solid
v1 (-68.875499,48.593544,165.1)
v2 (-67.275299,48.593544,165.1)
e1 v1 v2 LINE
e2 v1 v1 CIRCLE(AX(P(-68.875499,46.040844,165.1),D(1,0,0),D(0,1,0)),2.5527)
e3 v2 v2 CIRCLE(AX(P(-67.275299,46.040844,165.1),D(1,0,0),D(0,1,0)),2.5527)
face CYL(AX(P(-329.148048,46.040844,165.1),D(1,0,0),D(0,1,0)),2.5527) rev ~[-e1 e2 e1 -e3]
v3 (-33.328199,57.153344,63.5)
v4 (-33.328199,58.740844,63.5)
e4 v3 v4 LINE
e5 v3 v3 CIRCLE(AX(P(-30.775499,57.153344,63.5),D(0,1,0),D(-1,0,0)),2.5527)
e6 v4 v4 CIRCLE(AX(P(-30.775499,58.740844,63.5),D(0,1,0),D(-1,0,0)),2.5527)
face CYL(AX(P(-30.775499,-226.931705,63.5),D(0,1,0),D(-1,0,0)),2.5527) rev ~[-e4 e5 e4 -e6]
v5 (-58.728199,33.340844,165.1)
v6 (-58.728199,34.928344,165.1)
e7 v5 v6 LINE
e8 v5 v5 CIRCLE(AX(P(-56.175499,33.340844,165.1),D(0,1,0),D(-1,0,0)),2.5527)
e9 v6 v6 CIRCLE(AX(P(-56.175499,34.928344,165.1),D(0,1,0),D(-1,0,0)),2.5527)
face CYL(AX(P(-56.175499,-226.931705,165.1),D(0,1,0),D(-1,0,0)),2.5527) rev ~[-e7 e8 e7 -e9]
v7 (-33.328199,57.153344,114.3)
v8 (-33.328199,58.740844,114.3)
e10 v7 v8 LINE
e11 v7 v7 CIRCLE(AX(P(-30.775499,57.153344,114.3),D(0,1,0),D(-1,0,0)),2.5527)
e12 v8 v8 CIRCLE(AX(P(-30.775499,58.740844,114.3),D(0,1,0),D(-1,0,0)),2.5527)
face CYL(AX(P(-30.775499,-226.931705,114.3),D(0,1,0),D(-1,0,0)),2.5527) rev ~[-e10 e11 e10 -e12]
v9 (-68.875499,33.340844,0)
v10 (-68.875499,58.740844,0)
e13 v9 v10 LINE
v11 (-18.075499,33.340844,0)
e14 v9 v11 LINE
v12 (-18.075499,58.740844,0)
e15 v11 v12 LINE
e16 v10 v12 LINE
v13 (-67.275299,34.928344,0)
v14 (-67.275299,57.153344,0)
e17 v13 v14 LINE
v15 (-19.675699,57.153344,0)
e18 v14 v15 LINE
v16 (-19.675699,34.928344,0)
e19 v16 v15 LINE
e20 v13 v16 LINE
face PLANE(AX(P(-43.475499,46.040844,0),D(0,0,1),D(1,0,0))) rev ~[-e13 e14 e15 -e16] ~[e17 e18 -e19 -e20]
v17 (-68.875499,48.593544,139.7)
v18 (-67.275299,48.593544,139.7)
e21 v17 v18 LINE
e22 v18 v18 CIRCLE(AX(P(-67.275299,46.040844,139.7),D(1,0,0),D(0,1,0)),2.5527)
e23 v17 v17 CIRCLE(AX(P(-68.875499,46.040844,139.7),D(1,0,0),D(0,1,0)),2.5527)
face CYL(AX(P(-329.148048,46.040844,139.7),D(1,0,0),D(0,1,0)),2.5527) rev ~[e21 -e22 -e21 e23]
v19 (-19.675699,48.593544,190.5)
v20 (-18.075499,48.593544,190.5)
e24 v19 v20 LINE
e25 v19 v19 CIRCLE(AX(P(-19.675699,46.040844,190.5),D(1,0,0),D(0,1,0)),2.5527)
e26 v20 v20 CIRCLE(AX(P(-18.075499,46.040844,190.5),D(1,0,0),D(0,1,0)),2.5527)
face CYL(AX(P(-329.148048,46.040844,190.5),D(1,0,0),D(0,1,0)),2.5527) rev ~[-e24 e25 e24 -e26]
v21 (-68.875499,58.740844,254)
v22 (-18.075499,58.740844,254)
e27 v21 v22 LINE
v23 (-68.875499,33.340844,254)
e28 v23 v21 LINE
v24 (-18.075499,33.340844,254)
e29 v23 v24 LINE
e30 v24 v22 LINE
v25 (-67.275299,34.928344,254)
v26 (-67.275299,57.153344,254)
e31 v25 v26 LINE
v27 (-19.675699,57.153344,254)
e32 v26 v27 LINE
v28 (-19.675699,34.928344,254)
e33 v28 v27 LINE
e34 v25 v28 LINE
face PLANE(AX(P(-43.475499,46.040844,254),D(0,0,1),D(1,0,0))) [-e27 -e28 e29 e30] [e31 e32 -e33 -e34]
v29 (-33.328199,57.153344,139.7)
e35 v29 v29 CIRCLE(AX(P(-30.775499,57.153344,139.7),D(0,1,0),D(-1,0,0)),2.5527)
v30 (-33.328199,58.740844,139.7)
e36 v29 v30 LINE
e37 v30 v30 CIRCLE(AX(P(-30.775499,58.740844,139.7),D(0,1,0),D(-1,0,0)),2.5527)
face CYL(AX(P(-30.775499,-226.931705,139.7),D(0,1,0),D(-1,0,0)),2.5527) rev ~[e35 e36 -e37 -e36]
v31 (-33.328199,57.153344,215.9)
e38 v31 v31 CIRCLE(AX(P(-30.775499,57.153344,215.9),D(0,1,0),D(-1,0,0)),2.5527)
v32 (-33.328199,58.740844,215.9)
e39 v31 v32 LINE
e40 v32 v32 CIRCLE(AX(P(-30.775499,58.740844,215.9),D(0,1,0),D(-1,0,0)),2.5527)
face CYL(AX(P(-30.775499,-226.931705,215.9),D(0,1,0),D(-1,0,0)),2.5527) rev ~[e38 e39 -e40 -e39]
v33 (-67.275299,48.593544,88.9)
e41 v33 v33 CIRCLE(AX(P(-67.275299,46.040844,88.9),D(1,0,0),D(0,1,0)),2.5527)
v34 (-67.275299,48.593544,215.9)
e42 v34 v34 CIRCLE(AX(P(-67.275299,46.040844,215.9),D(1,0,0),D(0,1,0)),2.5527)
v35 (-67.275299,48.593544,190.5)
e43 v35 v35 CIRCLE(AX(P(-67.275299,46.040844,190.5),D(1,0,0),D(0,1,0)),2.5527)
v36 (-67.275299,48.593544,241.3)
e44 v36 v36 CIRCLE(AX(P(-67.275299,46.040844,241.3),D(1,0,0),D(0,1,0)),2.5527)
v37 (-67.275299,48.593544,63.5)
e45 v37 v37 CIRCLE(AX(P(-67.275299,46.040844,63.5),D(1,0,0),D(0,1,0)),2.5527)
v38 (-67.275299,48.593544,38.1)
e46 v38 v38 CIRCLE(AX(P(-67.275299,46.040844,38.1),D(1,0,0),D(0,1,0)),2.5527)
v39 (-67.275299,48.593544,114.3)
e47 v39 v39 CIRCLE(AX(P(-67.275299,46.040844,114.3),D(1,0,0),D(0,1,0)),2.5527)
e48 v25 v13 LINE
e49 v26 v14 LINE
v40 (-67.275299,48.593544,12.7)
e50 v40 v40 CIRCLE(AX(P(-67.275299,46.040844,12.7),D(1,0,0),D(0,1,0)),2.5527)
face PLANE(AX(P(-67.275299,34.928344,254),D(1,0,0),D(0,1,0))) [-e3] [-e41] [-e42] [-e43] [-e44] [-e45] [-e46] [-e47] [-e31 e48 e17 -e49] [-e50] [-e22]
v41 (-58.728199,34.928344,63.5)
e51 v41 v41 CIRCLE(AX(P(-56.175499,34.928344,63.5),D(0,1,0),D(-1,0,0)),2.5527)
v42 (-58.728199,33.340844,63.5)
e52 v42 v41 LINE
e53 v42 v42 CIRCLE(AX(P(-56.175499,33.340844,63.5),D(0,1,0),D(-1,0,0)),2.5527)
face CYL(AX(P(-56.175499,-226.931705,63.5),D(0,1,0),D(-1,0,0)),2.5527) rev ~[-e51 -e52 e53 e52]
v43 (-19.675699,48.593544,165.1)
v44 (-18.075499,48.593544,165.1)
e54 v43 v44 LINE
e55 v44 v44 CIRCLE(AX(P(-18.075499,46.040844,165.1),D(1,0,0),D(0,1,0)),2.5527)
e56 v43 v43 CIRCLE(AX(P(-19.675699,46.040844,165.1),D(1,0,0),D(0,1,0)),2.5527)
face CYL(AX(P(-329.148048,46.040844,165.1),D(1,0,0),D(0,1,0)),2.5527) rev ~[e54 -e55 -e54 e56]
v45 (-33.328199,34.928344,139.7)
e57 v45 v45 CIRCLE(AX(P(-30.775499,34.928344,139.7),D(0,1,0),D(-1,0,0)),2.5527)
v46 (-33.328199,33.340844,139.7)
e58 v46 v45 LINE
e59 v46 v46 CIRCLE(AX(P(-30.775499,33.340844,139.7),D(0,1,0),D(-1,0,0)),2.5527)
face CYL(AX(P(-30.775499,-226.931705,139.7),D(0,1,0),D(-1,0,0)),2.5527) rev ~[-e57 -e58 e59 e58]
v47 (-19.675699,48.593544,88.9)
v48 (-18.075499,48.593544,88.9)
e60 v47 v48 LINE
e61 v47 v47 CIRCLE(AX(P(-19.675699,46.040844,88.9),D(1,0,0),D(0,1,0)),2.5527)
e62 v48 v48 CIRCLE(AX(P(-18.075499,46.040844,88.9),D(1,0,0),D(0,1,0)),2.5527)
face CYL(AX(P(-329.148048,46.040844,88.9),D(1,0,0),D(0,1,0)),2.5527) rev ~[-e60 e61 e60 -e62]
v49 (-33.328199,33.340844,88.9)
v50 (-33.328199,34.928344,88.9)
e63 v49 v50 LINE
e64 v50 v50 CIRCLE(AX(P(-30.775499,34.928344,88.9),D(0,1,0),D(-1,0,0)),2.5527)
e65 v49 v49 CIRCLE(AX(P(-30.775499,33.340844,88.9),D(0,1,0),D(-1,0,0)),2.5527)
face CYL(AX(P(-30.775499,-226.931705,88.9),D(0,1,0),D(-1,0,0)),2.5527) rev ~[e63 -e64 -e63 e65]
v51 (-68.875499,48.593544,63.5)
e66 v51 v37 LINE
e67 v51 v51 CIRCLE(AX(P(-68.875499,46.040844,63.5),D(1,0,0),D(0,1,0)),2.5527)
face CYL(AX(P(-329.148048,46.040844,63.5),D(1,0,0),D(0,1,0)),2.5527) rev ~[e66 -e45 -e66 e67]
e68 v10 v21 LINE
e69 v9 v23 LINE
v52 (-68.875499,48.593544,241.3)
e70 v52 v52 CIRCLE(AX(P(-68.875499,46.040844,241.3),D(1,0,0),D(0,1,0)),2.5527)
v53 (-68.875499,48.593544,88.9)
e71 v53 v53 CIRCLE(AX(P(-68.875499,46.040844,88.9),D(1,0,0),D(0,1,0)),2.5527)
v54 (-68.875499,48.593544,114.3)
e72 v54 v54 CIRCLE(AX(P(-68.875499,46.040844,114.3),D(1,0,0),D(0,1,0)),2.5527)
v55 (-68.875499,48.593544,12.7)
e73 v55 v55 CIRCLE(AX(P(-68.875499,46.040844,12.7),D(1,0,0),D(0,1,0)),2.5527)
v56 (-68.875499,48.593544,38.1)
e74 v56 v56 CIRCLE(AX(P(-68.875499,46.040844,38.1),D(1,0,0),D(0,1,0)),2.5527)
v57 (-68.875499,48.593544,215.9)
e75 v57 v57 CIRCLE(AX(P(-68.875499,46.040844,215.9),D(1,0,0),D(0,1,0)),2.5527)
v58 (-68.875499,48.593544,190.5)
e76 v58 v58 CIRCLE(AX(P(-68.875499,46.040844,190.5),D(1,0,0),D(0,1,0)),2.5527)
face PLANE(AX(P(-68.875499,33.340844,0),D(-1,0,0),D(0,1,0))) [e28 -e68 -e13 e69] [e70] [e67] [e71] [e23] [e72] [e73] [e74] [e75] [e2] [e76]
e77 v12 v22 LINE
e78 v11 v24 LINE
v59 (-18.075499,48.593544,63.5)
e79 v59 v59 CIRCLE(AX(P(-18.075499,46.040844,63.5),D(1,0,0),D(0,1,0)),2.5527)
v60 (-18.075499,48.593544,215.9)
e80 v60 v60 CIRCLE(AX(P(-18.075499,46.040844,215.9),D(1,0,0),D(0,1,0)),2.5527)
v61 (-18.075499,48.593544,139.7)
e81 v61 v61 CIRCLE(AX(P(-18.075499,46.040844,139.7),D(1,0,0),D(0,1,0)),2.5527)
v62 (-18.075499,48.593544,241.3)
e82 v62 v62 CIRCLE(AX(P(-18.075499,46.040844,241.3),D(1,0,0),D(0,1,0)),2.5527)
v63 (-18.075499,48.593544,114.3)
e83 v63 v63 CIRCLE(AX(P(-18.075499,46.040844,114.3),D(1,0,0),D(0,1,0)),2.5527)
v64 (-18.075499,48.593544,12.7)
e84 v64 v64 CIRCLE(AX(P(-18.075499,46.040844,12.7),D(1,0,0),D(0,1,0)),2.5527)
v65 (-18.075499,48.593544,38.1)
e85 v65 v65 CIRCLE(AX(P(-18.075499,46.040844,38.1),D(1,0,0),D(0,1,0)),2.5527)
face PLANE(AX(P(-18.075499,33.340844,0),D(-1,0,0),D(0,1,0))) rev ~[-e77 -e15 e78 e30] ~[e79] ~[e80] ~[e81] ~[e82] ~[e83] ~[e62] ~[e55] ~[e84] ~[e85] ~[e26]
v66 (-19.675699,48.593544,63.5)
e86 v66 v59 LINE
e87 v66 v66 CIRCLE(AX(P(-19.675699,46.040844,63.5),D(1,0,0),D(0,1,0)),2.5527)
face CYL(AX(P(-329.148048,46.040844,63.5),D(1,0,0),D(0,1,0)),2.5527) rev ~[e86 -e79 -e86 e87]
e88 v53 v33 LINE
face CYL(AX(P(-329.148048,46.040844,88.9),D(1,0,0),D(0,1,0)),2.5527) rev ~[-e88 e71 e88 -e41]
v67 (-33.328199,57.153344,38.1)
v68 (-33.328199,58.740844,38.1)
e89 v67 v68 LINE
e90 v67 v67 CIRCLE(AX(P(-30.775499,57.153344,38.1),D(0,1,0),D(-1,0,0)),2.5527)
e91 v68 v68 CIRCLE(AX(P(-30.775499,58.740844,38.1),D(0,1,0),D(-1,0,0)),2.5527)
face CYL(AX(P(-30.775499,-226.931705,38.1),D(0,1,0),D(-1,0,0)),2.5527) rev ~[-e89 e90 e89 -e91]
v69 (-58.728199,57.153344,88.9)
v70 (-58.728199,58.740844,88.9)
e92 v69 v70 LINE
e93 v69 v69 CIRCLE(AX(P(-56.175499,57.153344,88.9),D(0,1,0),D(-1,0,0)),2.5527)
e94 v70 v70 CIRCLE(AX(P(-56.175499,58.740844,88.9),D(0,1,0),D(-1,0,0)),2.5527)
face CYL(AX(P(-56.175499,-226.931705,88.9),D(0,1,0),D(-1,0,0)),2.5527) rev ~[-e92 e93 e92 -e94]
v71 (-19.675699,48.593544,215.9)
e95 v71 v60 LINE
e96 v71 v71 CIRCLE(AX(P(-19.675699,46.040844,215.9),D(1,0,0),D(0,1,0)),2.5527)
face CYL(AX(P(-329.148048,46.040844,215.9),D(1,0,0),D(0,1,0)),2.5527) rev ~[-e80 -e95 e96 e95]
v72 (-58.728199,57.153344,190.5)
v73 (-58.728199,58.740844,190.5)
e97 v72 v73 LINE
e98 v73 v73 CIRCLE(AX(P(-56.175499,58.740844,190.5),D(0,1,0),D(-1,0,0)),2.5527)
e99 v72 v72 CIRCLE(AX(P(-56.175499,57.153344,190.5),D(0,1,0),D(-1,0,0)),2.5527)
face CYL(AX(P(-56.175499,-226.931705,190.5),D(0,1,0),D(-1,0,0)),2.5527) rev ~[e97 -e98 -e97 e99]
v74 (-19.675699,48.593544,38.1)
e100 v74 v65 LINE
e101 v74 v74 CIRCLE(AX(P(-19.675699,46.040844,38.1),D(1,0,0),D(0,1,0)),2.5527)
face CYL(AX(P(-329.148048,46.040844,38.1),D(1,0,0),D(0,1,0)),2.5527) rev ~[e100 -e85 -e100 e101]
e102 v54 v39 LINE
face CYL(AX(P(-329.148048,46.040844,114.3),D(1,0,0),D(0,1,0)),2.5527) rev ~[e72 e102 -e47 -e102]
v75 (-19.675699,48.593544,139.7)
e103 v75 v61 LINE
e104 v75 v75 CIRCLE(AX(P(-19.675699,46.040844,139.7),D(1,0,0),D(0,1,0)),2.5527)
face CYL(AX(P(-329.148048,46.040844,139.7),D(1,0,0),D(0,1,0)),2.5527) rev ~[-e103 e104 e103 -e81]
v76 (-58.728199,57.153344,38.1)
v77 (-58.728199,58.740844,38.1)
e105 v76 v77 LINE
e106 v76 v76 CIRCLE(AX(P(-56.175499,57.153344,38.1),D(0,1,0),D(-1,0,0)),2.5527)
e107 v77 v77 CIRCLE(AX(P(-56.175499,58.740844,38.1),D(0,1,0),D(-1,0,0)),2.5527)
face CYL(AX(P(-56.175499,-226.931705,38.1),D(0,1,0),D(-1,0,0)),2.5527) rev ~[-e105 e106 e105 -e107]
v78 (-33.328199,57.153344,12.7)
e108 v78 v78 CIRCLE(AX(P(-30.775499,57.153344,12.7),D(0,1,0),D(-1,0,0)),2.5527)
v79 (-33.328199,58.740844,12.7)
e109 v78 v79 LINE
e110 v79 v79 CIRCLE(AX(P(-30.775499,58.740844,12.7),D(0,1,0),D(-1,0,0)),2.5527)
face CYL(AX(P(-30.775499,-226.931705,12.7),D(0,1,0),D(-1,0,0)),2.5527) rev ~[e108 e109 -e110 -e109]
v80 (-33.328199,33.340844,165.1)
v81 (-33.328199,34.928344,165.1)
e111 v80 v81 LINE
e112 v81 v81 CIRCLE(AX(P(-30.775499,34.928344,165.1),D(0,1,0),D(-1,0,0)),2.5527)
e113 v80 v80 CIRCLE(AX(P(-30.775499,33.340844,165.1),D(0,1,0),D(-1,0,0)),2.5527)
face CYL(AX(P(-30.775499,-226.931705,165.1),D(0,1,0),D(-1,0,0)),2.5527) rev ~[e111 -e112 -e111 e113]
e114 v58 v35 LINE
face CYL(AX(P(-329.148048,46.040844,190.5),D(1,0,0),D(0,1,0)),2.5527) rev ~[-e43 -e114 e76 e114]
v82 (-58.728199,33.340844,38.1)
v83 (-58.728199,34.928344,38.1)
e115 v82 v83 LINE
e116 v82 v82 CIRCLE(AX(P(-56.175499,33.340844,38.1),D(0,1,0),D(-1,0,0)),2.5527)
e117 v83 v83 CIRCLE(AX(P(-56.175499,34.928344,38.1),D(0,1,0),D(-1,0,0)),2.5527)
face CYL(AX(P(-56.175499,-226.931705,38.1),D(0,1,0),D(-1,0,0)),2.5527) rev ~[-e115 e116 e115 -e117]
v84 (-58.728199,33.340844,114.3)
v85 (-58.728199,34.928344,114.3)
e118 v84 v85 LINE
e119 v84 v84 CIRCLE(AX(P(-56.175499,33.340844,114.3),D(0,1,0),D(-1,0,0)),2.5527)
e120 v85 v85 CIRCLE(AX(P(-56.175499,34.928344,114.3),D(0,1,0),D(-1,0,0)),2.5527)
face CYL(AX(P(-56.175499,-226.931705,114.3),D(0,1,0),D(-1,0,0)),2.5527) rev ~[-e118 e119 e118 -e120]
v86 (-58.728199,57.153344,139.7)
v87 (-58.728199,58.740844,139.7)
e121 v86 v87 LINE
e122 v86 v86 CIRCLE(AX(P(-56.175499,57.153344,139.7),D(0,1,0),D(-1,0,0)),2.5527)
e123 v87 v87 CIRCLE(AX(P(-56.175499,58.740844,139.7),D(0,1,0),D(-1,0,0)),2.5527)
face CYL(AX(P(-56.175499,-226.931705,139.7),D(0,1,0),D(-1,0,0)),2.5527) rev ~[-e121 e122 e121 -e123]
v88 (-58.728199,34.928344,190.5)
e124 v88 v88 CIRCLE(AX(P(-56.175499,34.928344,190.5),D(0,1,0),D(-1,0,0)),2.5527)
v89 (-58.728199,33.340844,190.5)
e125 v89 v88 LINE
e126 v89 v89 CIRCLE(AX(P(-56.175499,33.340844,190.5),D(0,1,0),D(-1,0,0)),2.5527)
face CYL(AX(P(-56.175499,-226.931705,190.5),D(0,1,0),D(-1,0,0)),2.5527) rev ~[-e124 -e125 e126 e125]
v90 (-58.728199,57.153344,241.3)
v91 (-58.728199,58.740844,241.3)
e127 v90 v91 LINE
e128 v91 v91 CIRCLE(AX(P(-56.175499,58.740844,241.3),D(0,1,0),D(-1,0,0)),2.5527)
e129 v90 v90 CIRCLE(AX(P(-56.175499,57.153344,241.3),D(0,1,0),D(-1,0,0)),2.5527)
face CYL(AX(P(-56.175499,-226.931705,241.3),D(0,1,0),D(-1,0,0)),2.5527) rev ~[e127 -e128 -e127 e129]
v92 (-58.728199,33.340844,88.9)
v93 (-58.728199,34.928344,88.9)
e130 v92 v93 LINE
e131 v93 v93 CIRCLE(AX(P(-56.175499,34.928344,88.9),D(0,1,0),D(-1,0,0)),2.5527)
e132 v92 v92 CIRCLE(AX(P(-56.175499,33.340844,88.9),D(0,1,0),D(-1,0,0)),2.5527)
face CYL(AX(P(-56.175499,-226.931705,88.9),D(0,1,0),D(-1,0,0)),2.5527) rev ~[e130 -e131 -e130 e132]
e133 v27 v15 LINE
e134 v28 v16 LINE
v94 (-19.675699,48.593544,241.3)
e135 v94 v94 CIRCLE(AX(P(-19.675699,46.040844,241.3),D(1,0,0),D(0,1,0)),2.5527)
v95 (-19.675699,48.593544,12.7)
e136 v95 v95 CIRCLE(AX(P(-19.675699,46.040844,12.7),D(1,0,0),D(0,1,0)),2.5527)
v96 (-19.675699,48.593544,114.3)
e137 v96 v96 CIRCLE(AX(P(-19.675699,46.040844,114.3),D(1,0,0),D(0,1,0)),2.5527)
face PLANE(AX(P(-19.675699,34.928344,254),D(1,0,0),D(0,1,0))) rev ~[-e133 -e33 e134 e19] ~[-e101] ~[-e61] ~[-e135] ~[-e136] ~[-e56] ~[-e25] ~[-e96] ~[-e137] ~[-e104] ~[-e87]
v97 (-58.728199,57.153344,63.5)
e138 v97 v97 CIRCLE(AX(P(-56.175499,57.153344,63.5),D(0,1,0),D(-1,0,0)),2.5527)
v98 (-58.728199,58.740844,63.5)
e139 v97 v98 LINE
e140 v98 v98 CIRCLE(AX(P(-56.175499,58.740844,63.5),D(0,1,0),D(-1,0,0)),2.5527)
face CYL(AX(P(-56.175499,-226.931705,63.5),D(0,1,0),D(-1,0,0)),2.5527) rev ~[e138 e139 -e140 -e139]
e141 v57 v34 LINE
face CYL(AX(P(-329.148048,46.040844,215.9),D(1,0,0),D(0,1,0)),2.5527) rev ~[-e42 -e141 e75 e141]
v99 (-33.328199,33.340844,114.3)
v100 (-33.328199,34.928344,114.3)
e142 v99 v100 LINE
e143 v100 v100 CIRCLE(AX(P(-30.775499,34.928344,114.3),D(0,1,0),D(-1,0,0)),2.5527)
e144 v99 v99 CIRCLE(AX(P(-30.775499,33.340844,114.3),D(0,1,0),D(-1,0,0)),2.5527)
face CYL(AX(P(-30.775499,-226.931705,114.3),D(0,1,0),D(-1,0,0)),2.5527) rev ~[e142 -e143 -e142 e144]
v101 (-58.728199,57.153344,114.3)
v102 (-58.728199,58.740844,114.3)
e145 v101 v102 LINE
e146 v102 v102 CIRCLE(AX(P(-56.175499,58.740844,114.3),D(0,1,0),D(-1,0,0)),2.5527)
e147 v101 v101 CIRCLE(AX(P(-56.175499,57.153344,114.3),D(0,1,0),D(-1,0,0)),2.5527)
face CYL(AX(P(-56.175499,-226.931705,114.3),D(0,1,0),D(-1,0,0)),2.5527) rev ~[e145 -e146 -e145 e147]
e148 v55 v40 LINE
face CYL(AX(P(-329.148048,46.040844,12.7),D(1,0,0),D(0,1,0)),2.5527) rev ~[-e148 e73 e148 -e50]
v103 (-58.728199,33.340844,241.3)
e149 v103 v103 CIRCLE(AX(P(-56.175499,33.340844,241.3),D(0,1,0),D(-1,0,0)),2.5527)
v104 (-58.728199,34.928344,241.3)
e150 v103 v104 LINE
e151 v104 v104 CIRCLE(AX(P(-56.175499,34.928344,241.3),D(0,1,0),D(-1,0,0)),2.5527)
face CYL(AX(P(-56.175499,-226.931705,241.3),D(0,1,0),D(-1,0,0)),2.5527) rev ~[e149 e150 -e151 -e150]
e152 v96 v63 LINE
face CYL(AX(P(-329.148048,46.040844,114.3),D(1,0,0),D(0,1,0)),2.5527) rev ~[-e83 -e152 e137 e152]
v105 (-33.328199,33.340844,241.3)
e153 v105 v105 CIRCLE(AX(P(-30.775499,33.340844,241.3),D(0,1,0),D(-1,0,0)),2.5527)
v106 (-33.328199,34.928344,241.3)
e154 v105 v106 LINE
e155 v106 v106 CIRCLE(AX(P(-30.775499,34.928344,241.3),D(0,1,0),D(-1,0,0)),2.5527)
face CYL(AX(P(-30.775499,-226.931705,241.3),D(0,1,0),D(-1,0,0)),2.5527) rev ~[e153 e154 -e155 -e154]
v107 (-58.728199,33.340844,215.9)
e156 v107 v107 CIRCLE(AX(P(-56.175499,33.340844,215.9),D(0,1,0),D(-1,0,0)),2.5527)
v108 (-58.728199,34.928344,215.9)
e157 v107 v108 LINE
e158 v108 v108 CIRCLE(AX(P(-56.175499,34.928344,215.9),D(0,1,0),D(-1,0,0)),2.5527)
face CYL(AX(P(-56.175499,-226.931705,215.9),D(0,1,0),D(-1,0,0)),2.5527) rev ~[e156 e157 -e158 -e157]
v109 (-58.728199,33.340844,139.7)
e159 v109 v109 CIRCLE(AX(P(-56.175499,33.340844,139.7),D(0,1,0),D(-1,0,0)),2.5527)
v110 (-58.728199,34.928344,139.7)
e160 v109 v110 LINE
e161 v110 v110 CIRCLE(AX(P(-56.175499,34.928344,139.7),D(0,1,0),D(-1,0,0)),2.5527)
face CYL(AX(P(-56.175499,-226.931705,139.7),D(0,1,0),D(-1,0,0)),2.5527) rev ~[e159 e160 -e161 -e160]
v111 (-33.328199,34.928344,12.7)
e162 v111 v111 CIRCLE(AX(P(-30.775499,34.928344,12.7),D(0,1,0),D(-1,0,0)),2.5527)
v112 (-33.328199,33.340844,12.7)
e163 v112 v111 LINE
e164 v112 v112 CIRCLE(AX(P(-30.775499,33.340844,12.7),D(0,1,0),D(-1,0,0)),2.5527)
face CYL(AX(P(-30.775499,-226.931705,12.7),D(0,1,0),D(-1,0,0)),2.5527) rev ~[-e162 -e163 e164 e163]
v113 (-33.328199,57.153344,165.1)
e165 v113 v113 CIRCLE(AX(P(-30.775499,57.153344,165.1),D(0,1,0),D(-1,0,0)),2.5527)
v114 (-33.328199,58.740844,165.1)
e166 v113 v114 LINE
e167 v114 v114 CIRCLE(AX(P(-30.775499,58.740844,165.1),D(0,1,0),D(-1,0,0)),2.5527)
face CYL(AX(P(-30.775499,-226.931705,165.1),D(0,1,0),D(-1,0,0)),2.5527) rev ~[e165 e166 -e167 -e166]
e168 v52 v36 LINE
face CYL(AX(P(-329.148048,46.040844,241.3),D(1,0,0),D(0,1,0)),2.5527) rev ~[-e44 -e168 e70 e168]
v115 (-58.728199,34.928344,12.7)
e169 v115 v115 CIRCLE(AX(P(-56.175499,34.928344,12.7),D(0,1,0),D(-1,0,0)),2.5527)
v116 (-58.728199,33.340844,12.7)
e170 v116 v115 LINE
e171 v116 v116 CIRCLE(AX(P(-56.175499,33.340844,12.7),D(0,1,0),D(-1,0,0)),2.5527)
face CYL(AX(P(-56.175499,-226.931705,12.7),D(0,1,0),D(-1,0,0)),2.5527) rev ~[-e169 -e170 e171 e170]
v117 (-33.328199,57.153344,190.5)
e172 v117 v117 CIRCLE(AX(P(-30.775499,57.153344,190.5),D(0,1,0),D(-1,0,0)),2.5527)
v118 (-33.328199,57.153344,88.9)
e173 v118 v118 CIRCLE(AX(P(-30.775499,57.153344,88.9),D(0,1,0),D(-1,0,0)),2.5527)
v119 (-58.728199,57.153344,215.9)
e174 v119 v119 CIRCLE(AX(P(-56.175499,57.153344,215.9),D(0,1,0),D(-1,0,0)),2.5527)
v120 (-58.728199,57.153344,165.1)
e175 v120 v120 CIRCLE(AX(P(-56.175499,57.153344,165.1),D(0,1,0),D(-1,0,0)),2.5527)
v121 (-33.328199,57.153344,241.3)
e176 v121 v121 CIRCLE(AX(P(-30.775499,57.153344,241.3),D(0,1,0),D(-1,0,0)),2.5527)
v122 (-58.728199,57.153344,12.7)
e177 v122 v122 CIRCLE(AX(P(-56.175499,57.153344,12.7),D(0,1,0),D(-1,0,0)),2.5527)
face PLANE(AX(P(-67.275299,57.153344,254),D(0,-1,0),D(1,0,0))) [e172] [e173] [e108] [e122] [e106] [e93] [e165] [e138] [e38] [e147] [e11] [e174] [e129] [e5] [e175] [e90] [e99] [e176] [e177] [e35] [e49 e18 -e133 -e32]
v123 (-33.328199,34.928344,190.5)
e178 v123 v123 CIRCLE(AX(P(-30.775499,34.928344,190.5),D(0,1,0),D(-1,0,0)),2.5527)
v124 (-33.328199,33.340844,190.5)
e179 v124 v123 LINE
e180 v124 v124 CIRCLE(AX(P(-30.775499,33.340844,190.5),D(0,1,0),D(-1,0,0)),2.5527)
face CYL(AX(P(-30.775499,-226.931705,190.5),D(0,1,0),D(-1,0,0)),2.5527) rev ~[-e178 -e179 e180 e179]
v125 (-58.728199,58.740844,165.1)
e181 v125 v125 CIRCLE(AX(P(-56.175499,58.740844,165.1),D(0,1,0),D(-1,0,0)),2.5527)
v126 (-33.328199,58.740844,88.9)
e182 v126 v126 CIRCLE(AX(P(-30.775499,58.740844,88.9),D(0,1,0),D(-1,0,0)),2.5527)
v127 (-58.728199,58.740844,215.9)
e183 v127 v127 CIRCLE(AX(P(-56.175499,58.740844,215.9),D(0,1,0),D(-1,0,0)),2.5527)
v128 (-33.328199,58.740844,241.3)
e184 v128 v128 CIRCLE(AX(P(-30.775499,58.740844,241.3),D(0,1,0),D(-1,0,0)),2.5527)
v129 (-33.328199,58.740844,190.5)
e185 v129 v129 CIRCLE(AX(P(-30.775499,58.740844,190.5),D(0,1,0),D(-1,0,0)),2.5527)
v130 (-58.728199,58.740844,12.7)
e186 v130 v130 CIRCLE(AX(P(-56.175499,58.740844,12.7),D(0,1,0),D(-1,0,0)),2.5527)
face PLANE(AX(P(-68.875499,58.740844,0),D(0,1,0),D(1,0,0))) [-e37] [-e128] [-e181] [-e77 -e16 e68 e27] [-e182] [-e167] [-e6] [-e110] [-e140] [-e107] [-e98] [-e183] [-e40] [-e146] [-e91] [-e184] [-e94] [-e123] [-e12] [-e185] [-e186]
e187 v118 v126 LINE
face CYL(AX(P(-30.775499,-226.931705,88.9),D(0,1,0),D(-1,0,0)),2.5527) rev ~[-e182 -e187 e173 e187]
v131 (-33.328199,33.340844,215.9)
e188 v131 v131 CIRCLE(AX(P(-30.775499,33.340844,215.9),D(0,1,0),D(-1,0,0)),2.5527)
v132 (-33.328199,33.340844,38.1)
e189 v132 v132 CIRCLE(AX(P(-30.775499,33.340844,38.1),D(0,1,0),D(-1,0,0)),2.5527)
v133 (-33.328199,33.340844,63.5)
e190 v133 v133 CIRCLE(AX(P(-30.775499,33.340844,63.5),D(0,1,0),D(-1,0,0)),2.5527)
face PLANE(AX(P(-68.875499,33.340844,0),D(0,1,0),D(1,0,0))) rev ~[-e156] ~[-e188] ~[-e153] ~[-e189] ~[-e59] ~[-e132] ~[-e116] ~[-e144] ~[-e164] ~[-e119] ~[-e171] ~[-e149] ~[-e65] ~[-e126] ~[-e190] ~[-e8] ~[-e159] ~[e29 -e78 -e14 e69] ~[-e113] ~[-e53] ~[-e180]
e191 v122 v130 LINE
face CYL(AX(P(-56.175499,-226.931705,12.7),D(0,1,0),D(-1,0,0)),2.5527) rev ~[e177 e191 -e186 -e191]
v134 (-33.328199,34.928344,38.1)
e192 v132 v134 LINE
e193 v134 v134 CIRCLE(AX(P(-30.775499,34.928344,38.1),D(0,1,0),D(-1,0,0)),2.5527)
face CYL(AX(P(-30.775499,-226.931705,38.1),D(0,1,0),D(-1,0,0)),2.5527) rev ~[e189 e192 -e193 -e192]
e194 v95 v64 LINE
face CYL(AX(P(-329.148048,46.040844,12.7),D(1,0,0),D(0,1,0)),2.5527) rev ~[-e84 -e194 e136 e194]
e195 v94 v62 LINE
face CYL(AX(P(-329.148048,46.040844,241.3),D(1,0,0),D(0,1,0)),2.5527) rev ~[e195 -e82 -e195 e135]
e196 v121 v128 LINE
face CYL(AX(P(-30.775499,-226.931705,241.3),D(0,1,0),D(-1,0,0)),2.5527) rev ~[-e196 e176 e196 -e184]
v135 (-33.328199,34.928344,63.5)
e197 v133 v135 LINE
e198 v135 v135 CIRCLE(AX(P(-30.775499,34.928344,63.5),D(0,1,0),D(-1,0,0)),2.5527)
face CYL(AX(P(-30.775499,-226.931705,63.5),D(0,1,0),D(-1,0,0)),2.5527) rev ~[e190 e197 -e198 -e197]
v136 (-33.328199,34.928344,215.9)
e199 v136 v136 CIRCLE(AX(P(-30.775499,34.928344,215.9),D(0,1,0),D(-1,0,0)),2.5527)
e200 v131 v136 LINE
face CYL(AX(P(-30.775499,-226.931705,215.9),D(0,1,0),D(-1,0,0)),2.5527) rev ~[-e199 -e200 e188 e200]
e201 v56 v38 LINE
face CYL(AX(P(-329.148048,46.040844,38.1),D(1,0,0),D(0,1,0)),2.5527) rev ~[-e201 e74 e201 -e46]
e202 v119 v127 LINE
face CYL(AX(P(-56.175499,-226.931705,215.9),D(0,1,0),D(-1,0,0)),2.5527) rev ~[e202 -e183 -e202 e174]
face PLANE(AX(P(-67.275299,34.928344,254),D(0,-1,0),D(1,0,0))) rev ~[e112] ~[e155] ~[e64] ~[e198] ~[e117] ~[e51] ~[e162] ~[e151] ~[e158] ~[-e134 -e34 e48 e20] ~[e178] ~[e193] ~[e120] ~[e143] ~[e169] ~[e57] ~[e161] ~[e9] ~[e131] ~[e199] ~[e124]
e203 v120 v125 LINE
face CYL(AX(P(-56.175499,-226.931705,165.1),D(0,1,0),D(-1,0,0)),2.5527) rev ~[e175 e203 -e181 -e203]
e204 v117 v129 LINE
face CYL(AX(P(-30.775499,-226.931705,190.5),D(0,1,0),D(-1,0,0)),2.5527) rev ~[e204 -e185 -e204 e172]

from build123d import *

# Parameters (mm, degrees)
F0_W     = 50.8
F0_H     = 25.4
F1_DEPTH = 254
F3_D     = 5.1054
F4_W     = 47.5996
F4_H     = 22.225
F5_DEPTH = 254
F7_D     = 5.1054


with BuildPart() as f1:
    # F0 (on Top) → F1 (new body)
    with BuildSketch(Plane.XY):
        with Locations((-43.475499, 46.040844)):
            Rectangle(F0_W, F0_H)
    extrude(amount=F1_DEPTH)

    # F3 (through all)
    with Locations(Plane.XZ.offset(-33.340844)):
        with Locations((-56.175499, 165.1), (-56.175499, 88.9), (-56.175499, 139.7), (-56.175499, 114.3), (-30.775499, 165.1), (-30.775499, 114.3), (-30.775499, 12.7), (-30.775499, 63.5), (-56.175499, 38.1), (-56.175499, 63.5), (-30.775499, 38.1), (-30.775499, 88.9), (-56.175499, 12.7), (-30.775499, 139.7), (-30.775499, 215.9), (-30.775499, 190.5), (-30.775499, 241.3), (-56.175499, 241.3), (-56.175499, 215.9), (-56.175499, 190.5)):
            Hole(F3_D / 2)

    # F4 (on face) → F5 (cut)
    with BuildSketch(Plane.XY.offset(254)):
        with Locations((-43.475499, 46.040844)):
            Rectangle(F4_W, F4_H)
    extrude(amount=-F5_DEPTH, mode=Mode.SUBTRACT)

    # F7 (through all)
    with Locations(Plane(origin=(-68.875499, 0, 0), x_dir=(0, -1, 0), z_dir=(-1, 0, 0))):
        with Locations((-46.040844, 241.3), (-46.040844, 139.7), (-46.040844, 165.1), (-46.040844, 88.9), (-46.040844, 114.3), (-46.040844, 63.5), (-46.040844, 190.5), (-46.040844, 215.9), (-46.040844, 38.1), (-20.640844, 241.3), (-46.040844, 12.7)):
            Hole(F7_D / 2)


solid = f1.part
